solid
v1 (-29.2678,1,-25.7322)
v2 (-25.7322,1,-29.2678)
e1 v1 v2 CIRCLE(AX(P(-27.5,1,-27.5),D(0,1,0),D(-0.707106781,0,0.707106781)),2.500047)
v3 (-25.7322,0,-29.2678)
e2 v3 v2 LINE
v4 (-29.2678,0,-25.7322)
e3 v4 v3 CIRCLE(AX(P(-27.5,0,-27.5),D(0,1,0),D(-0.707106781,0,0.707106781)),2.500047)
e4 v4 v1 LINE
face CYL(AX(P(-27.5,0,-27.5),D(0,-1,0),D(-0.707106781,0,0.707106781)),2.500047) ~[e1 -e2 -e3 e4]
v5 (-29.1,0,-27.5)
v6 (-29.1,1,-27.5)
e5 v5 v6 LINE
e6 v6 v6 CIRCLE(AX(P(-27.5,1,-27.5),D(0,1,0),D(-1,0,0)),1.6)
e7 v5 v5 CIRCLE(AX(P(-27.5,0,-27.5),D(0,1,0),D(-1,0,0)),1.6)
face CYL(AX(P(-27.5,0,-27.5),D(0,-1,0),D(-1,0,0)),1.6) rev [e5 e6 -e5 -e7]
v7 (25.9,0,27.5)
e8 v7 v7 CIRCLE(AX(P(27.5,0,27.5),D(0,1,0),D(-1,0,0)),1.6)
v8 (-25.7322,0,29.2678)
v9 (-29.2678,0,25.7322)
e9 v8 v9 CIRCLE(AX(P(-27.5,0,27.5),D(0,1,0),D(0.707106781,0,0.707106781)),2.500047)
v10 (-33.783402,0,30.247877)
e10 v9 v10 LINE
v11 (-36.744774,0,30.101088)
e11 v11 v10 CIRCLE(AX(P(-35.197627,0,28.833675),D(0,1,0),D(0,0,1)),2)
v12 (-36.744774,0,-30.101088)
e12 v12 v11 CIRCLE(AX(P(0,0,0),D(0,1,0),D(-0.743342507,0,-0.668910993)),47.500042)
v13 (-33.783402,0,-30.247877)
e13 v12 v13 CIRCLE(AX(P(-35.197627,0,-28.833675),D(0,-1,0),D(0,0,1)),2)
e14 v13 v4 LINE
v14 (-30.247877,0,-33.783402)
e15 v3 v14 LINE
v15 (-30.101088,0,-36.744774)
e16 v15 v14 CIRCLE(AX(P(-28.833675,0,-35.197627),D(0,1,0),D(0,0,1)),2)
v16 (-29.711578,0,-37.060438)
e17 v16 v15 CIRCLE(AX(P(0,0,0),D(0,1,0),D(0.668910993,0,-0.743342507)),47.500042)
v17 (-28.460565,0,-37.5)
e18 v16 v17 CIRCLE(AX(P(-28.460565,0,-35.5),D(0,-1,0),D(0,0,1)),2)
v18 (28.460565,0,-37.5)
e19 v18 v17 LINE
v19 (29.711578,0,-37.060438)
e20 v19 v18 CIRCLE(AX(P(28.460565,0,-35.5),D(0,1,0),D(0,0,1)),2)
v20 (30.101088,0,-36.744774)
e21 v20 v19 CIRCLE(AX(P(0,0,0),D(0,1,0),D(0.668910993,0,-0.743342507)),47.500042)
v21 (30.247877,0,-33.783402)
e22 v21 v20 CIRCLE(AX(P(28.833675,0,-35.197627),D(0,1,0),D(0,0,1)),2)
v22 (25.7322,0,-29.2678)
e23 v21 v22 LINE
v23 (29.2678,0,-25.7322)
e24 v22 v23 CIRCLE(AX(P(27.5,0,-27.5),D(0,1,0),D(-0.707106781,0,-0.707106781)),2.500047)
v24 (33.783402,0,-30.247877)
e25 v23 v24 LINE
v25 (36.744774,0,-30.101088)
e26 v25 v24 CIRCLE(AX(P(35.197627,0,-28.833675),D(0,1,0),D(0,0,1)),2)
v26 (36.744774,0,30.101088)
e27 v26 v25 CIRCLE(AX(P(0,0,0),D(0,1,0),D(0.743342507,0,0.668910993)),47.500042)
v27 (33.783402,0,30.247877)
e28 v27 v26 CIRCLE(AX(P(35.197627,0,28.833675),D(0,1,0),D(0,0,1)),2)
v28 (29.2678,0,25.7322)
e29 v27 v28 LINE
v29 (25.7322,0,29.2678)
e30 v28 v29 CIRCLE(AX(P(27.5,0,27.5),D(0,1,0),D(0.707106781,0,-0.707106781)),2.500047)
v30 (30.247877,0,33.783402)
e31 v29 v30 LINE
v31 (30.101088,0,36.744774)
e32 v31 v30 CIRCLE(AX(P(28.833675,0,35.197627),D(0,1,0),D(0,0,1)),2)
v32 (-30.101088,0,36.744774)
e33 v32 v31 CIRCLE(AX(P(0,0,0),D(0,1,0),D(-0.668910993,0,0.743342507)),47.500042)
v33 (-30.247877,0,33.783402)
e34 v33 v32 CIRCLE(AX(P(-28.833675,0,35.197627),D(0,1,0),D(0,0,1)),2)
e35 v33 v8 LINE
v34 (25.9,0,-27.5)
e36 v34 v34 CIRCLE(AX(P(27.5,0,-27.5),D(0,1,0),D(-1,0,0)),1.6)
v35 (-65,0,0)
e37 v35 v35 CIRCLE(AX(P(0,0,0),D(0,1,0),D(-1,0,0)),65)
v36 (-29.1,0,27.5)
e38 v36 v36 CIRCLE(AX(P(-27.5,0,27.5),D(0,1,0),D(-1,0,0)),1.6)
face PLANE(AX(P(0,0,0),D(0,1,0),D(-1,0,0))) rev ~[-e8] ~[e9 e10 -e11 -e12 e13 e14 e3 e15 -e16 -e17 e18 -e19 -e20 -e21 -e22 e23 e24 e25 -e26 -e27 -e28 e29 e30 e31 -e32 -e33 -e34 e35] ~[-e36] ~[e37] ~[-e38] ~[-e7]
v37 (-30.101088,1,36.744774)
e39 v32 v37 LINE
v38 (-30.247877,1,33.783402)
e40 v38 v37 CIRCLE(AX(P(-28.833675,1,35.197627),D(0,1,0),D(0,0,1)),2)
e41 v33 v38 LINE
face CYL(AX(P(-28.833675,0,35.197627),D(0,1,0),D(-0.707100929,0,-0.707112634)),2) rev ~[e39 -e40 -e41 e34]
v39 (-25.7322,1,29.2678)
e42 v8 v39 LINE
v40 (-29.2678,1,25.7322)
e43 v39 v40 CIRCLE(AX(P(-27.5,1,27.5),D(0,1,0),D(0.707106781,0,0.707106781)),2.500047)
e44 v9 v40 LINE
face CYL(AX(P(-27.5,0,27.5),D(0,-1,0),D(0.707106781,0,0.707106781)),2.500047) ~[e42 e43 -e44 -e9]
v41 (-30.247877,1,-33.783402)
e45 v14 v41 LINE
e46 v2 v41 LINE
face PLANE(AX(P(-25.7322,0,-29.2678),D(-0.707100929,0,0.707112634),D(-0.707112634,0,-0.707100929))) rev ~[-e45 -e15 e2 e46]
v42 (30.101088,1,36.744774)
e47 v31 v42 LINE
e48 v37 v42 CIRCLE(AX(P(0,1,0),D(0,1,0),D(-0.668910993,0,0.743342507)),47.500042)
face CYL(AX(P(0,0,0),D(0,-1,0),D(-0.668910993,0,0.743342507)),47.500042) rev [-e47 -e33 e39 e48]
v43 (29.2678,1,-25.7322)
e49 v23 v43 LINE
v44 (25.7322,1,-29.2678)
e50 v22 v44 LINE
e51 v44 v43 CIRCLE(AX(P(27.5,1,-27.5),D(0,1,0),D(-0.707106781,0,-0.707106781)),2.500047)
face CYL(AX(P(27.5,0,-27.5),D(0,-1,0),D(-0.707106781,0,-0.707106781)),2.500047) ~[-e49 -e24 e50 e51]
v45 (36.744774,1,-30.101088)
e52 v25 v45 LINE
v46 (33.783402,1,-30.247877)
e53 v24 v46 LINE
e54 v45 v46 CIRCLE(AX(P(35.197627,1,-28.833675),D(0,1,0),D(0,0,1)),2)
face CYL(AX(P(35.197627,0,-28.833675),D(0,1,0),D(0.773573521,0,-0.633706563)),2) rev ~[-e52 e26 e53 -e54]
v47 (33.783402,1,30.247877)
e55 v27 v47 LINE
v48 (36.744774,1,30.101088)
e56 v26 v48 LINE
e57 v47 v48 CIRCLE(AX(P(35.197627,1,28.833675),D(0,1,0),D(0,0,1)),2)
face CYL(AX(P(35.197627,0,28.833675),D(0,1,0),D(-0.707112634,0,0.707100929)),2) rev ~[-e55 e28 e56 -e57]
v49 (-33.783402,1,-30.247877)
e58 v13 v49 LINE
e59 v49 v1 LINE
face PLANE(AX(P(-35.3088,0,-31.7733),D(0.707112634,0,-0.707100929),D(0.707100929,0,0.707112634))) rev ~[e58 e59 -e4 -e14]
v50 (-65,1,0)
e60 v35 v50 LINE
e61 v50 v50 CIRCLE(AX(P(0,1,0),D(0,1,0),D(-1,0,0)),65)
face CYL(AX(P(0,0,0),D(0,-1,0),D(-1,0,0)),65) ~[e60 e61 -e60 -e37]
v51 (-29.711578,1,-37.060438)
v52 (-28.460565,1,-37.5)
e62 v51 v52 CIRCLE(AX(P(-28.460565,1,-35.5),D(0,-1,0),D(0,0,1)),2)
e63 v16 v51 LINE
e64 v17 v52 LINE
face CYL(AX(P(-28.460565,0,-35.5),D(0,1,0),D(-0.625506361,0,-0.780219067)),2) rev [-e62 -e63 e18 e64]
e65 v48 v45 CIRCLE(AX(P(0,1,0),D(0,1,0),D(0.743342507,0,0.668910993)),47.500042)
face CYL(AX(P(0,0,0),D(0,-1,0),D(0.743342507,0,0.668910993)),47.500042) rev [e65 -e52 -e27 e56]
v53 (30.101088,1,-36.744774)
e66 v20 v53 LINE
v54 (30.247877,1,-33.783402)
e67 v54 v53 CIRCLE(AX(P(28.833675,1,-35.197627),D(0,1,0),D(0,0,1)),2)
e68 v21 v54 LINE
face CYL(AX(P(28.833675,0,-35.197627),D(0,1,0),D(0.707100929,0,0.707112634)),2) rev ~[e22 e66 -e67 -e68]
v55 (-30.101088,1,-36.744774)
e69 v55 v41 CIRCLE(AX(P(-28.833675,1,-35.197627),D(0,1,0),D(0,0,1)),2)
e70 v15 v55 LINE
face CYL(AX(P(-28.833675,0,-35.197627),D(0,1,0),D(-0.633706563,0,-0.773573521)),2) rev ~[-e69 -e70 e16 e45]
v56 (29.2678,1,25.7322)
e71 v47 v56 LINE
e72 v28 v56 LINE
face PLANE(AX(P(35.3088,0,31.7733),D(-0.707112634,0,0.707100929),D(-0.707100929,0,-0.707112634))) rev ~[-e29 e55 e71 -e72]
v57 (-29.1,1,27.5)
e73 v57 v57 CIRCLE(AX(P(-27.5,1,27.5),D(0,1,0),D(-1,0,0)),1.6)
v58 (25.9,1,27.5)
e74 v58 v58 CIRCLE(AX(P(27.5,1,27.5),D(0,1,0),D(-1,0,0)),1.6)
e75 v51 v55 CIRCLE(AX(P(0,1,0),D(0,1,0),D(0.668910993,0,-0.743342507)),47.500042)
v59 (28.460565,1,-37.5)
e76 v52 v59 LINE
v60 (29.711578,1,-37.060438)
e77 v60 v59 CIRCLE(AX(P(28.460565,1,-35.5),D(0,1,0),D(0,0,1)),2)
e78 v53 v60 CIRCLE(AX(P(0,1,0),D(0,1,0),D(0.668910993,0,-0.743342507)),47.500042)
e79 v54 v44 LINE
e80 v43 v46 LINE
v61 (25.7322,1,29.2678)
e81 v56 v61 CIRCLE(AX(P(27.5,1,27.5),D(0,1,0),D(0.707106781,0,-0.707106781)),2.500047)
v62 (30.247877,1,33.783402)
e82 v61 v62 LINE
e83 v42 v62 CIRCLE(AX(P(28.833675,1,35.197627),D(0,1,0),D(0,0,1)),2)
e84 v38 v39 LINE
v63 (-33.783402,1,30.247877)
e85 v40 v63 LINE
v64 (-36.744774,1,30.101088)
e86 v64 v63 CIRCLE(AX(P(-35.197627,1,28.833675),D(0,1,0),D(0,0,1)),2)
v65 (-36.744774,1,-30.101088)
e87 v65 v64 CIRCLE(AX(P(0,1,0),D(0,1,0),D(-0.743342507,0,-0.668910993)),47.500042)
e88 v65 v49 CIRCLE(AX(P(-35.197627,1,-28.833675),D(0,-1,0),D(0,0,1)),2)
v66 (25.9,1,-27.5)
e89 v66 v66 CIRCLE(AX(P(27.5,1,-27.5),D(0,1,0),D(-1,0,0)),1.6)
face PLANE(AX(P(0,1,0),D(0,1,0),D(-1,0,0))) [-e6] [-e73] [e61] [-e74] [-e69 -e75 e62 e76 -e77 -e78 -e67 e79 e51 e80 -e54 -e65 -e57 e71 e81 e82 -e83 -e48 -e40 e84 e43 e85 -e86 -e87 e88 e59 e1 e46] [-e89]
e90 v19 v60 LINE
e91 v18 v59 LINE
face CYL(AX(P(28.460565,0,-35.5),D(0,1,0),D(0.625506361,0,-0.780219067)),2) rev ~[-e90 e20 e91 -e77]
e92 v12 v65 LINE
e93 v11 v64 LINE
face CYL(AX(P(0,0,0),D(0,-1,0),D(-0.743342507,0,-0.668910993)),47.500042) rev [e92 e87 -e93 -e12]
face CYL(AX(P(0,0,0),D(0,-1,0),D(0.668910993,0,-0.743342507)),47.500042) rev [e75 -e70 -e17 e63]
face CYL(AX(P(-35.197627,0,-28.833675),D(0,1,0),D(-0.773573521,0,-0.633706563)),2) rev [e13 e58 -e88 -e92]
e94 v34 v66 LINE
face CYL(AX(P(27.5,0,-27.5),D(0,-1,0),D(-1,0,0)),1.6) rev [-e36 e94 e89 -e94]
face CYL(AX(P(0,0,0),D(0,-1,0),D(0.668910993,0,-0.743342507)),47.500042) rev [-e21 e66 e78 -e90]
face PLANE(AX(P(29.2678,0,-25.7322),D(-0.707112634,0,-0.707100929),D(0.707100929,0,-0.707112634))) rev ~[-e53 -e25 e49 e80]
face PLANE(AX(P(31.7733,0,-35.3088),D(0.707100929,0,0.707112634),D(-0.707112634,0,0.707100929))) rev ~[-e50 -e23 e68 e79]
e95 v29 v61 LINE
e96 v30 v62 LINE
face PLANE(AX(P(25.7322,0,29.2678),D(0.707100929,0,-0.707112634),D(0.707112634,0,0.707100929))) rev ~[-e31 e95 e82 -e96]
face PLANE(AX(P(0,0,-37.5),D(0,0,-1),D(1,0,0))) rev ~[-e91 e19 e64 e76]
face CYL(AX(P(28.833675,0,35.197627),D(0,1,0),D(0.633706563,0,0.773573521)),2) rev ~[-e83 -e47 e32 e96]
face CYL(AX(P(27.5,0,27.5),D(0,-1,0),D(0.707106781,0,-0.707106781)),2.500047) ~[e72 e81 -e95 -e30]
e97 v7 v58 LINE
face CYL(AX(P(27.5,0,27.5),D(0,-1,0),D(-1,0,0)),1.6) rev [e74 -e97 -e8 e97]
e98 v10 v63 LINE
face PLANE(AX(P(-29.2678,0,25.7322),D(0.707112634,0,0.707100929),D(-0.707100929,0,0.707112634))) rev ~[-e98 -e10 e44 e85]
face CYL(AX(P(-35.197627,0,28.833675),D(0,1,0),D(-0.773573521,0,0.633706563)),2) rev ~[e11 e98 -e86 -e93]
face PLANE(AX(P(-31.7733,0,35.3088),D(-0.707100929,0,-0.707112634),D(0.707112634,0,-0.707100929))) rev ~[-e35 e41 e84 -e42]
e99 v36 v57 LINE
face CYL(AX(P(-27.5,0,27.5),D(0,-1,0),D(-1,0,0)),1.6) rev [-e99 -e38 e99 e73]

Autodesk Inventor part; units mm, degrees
ref_plane "YZ Plane" through (0, 0, 0) normal (1, 0, 0) x (0, 1, 0)
ref_plane "XZ Plane" through (0, 0, 0) normal (0, 1, 0) x (-1, 0, 0)
ref_plane "XY Plane" through (0, 0, 0) normal (0, 0, 1) x (1, 0, 0)
sketch "Sketch3" plane through (0, 0, 0) normal (0, 1, 0) x (-1, 0, 0)
  line L0 (27.5, -27.5) -> (-27.5, -27.5) construction
  line L1 (-27.5, -27.5) -> (-27.5, 27.5) construction
  line L2 (-27.5, 27.5) -> (27.5, 27.5) construction
  line L3 (27.5, 27.5) -> (27.5, -27.5) construction
  line L4 (27.5, -27.5) -> (-27.5, 27.5) construction
  line L5 (-27.5, -27.5) -> (27.5, 27.5) construction
  circle A0 centre (27.5, -27.5) radius 1.6
  circle A1 centre (-27.5, -27.5) radius 1.6
  circle A2 centre (-27.5, 27.5) radius 1.6
  circle A3 centre (27.5, 27.5) radius 1.6
  circle A4 centre (0, 0) radius 65
  line L6 (-27.5, -27.5) -> (-33.5876, -33.5876) construction
  line L7 (-27.5, 27.5) -> (-33.5876, 33.5876) construction
  line L8 (27.5, 27.5) -> (33.5876, 33.5876) construction
  line L9 (27.5, -27.5) -> (33.5876, -33.5876) construction
  line L10 (39.6751, -39.6751) -> (27.5, -27.5) construction
  line L11 (35.3088, -31.7733) -> (29.2678, -25.7322)
  line L12 (25.7322, -29.2678) -> (31.7733, -35.3088)
  arc A5 (29.2678, -25.7322) -> (25.7322, -29.2678) centre (27.5, -27.5) ccw
  line L13 (-39.6751, -39.6751) -> (-27.5, -27.5) construction
  line L14 (-31.7733, -35.3088) -> (-25.7322, -29.2678)
  line L15 (-29.2678, -25.7322) -> (-35.3088, -31.7733)
  arc A6 (-25.7322, -29.2678) -> (-29.2678, -25.7322) centre (-27.5, -27.5) ccw
  line L16 (-39.6751, 39.6751) -> (-27.5, 27.5) construction
  line L17 (-35.3088, 31.7733) -> (-29.2678, 25.7322)
  line L18 (-25.7322, 29.2678) -> (-31.7733, 35.3088)
  arc A7 (-29.2678, 25.7322) -> (-25.7322, 29.2678) centre (-27.5, 27.5) ccw
  line L19 (33.5876, 33.5876) -> (27.5, 27.5) construction
  line L20 (31.7733, 35.3088) -> (25.7322, 29.2678)
  line L21 (29.2678, 25.7322) -> (35.3088, 31.7733)
  arc A8 (25.7322, 29.2678) -> (29.2678, 25.7322) centre (27.5, 27.5) ccw
  arc A9 (31.7733, 35.3088) -> (-31.7733, 35.3088) centre (0, 0) ccw
  arc A10 (-35.3088, 31.7733) -> (-35.3088, -31.7733) centre (0, 0) ccw
  arc A11 (-31.7733, -35.3088) -> (31.7733, -35.3088) centre (0, 0) ccw
  arc A12 (35.3088, -31.7733) -> (35.3088, 31.7733) centre (0, 0) ccw
  line L22 (0, -47.5) -> (0, -37.5) construction
  line L23 (0, -37.5) -> (-29.1548, -37.5)
  line L24 (0, -37.5) -> (29.1548, -37.5)
  dimension "d60" = 55
  dimension "d61" = 55
  dimension "d62" = 3.2
  dimension "d63" = 3.2
  dimension "d64" = 3.2
  dimension "d65" = 3.2
  dimension "d67" = 130
  dimension "d68" = 5
  dimension "d69" = 5
  dimension "d70" = 5
  dimension "d71" = 5
  dimension "d91" = 10
extrude "Extrusion2" add sketch "Sketch3" along normal blind 1 contours A4 | A11 L23 L24
fillet "Fillet1" radius 2 10 edges at (-31.7733, 0.5, 35.3088) (-35.3088, 0.5, 31.7733) (-31.7733, 0.5, -35.3088) (-35.3088, 0.5, -31.7733) (35.3088, 0.5, -31.7733) (31.7733, 0.5, -35.3088) (31.7733, 0.5, 35.3088) (35.3088, 0.5, 31.7733) (-29.1548, 0.5, -37.5) (29.1548, 0.5, -37.5)
sketch "Sketch4" plane through (0, 1, 0) normal (0, 1, 0) x (1, 0, 0)
  circle A0 centre (0, 0) radius 65 projected
  line L0 (0, -65) -> (0, -63) construction
  line L1 (-3, -57) -> (-3, -63)
  line L2 (-3, -63) -> (3, -63)
  line L3 (3, -63) -> (3, -57)
  line L4 (3, -57) -> (-3, -57)
  line L5 (0.8, -52.3) -> (0.8, -55.5)
  line L6 (0.8, -55.5) -> (-0.8, -55.5)
  line L7 (-0.8, -55.5) -> (-0.8, -52.3)
  line L8 (-0.8, -52.3) -> (0.8, -52.3)
  line L9 (1.8, -52.3) -> (1.8, -55.5)
  line L10 (1.8, -55.5) -> (3.4, -55.5)
  line L11 (3.4, -55.5) -> (3.4, -52.3)
  line L12 (3.4, -52.3) -> (1.8, -52.3)
  line L13 (-3.4, -52.3) -> (-3.4, -55.5)
  line L14 (-3.4, -55.5) -> (-1.8, -55.5)
  line L15 (-1.8, -55.5) -> (-1.8, -52.3)
  line L16 (-1.8, -52.3) -> (-3.4, -52.3)
  line L17 (-4.4, -52.3) -> (-4.4, -55.5)
  line L18 (-4.4, -55.5) -> (-6, -55.5)
  line L19 (-6, -55.5) -> (-6, -52.3)
  line L20 (-6, -52.3) -> (-4.4, -52.3)
  line L21 (-4.4, -61.6) -> (-4.4, -58.4)
  line L22 (-4.4, -58.4) -> (-6, -58.4)
  line L23 (-6, -58.4) -> (-6, -61.6)
  line L24 (-6, -61.6) -> (-4.4, -61.6)
  line L25 (18.0977, -52.5764) -> (19.5759, -51.9641)
  line L26 (19.5759, -51.9641) -> (18.3514, -49.0077)
  line L27 (18.3514, -49.0077) -> (16.8732, -49.62)
  line L28 (16.8732, -49.62) -> (18.0977, -52.5764)
  line L29 (15.9493, -50.0027) -> (17.1739, -52.9591)
  line L30 (15.6957, -53.5714) -> (14.4711, -50.615)
  line L31 (14.4711, -50.615) -> (15.9493, -50.0027)
  line L32 (17.1739, -52.9591) -> (15.6957, -53.5714)
  line L33 (18.2836, -55.6384) -> (16.8054, -56.2507)
  line L34 (16.8054, -56.2507) -> (18.03, -59.2071)
  line L35 (18.03, -59.2071) -> (19.5082, -58.5948)
  line L36 (19.5082, -58.5948) -> (18.2836, -55.6384)
  line L37 (19.0413, -53.8092) -> (21.3374, -59.3525)
  line L38 (21.3374, -59.3525) -> (26.8807, -57.0564)
  line L39 (24.8744, -60.0522) -> (24.1091, -58.2044) construction
  line L40 (26.8807, -57.0564) -> (24.5846, -51.5131)
  line L41 (24.5846, -51.5131) -> (19.0413, -53.8092)
  line L42 (20.7534, -48.0128) -> (21.978, -50.9692)
  line L43 (21.978, -50.9692) -> (20.4998, -51.5815)
  line L44 (20.4998, -51.5815) -> (19.2752, -48.625)
  line L45 (19.2752, -48.625) -> (20.7534, -48.0128)
  line L46 (21.6773, -47.6301) -> (22.9019, -50.5865)
  line L47 (22.9019, -50.5865) -> (24.3801, -49.9742)
  line L48 (24.3801, -49.9742) -> (23.1555, -47.0178)
  line L49 (23.1555, -47.0178) -> (21.6773, -47.6301)
  line L50 (36.8403, -41.6486) -> (37.9716, -40.5172)
  line L51 (37.9716, -40.5172) -> (35.7089, -38.2545)
  line L52 (35.7089, -38.2545) -> (34.5775, -39.3858)
  line L53 (34.5775, -39.3858) -> (36.8403, -41.6486)
  line L54 (33.8704, -40.093) -> (36.1332, -42.3557)
  line L55 (35.0018, -43.4871) -> (32.739, -41.2243)
  line L56 (32.739, -41.2243) -> (33.8704, -40.093)
  line L57 (36.1332, -42.3557) -> (35.0018, -43.4871)
  line L58 (38.1838, -44.4063) -> (37.0524, -45.5377)
  line L59 (37.0524, -45.5377) -> (39.3151, -47.8004)
  line L60 (39.3151, -47.8004) -> (40.4465, -46.669)
  line L61 (40.4465, -46.669) -> (38.1838, -44.4063)
  line L62 (38.1838, -42.4264) -> (42.4264, -46.669)
  line L63 (42.4264, -46.669) -> (46.669, -42.4264)
  line L64 (45.9619, -45.9619) -> (44.5477, -44.5477) construction
  line L65 (46.669, -42.4264) -> (42.4264, -38.1838)
  line L66 (42.4264, -38.1838) -> (38.1838, -42.4264)
  line L67 (37.5474, -36.416) -> (39.8101, -38.6787)
  line L68 (39.8101, -38.6787) -> (38.6787, -39.8101)
  line L69 (38.6787, -39.8101) -> (36.416, -37.5474)
  line L70 (36.416, -37.5474) -> (37.5474, -36.416)
  line L71 (38.2545, -35.7089) -> (40.5172, -37.9716)
  line L72 (40.5172, -37.9716) -> (41.6486, -36.8403)
  line L73 (41.6486, -36.8403) -> (39.3858, -34.5775)
  line L74 (39.3858, -34.5775) -> (38.2545, -35.7089)
  line L75 (49.9742, -24.3801) -> (50.5865, -22.9019)
  line L76 (50.5865, -22.9019) -> (47.6301, -21.6773)
  line L77 (47.6301, -21.6773) -> (47.0178, -23.1555)
  line L78 (47.0178, -23.1555) -> (49.9742, -24.3801)
  line L79 (46.6351, -24.0794) -> (49.5915, -25.304)
  line L80 (48.9792, -26.7822) -> (46.0228, -25.5576)
  line L81 (46.0228, -25.5576) -> (46.6351, -24.0794)
  line L82 (49.5915, -25.304) -> (48.9792, -26.7822)
  line L83 (52.2708, -26.4138) -> (51.6585, -27.892)
  line L84 (51.6585, -27.892) -> (54.6149, -29.1166)
  line L85 (54.6149, -29.1166) -> (55.2272, -27.6384)
  line L86 (55.2272, -27.6384) -> (52.2708, -26.4138)
  line L87 (51.5131, -24.5846) -> (57.0564, -26.8807)
  line L88 (57.0564, -26.8807) -> (59.3525, -21.3374)
  line L89 (60.0522, -24.8744) -> (58.2044, -24.1091) construction
  line L90 (59.3525, -21.3374) -> (53.8092, -19.0413)
  line L91 (53.8092, -19.0413) -> (51.5131, -24.5846)
  line L92 (48.625, -19.2752) -> (51.5815, -20.4998)
  line L93 (51.5815, -20.4998) -> (50.9692, -21.978)
  line L94 (50.9692, -21.978) -> (48.0128, -20.7534)
  line L95 (48.0128, -20.7534) -> (48.625, -19.2752)
  line L96 (49.0077, -18.3514) -> (51.9641, -19.5759)
  line L97 (51.9641, -19.5759) -> (52.5764, -18.0977)
  line L98 (52.5764, -18.0977) -> (49.62, -16.8732)
  line L99 (49.62, -16.8732) -> (49.0077, -18.3514)
  line L100 (55.5, -3.4) -> (55.5, -1.8)
  line L101 (55.5, -1.8) -> (52.3, -1.8)
  line L102 (52.3, -1.8) -> (52.3, -3.4)
  line L103 (52.3, -3.4) -> (55.5, -3.4)
  line L104 (52.3, -4.4) -> (55.5, -4.4)
  line L105 (55.5, -6) -> (52.3, -6)
  line L106 (52.3, -6) -> (52.3, -4.4)
  line L107 (55.5, -4.4) -> (55.5, -6)
  line L108 (58.4, -4.4) -> (58.4, -6)
  line L109 (58.4, -6) -> (61.6, -6)
  line L110 (61.6, -6) -> (61.6, -4.4)
  line L111 (61.6, -4.4) -> (58.4, -4.4)
  line L112 (57, -3) -> (63, -3)
  line L113 (63, -3) -> (63, 3)
  line L114 (65, 0) -> (63, 0) construction
  line L115 (63, 3) -> (57, 3)
  line L116 (57, 3) -> (57, -3)
  line L117 (52.3, 0.8) -> (55.5, 0.8)
  line L118 (55.5, 0.8) -> (55.5, -0.8)
  line L119 (55.5, -0.8) -> (52.3, -0.8)
  line L120 (52.3, -0.8) -> (52.3, 0.8)
  line L121 (52.3, 1.8) -> (55.5, 1.8)
  line L122 (55.5, 1.8) -> (55.5, 3.4)
  line L123 (55.5, 3.4) -> (52.3, 3.4)
  line L124 (52.3, 3.4) -> (52.3, 1.8)
  line L125 (52.5764, 18.0977) -> (51.9641, 19.5759)
  line L126 (51.9641, 19.5759) -> (49.0077, 18.3514)
  line L127 (49.0077, 18.3514) -> (49.62, 16.8732)
  line L128 (49.62, 16.8732) -> (52.5764, 18.0977)
  line L129 (50.0027, 15.9493) -> (52.9591, 17.1739)
  line L130 (53.5714, 15.6957) -> (50.615, 14.4711)
  line L131 (50.615, 14.4711) -> (50.0027, 15.9493)
  line L132 (52.9591, 17.1739) -> (53.5714, 15.6957)
  line L133 (55.6384, 18.2836) -> (56.2507, 16.8054)
  line L134 (56.2507, 16.8054) -> (59.2071, 18.03)
  line L135 (59.2071, 18.03) -> (58.5948, 19.5082)
  line L136 (58.5948, 19.5082) -> (55.6384, 18.2836)
  line L137 (53.8092, 19.0413) -> (59.3525, 21.3374)
  line L138 (59.3525, 21.3374) -> (57.0564, 26.8807)
  line L139 (60.0522, 24.8744) -> (58.2044, 24.1091) construction
  line L140 (57.0564, 26.8807) -> (51.5131, 24.5846)
  line L141 (51.5131, 24.5846) -> (53.8092, 19.0413)
  line L142 (48.0128, 20.7534) -> (50.9692, 21.978)
  line L143 (50.9692, 21.978) -> (51.5815, 20.4998)
  line L144 (51.5815, 20.4998) -> (48.625, 19.2752)
  line L145 (48.625, 19.2752) -> (48.0128, 20.7534)
  line L146 (47.6301, 21.6773) -> (50.5865, 22.9019)
  line L147 (50.5865, 22.9019) -> (49.9742, 24.3801)
  line L148 (49.9742, 24.3801) -> (47.0178, 23.1555)
  line L149 (47.0178, 23.1555) -> (47.6301, 21.6773)
  line L150 (41.6486, 36.8403) -> (40.5172, 37.9716)
  line L151 (40.5172, 37.9716) -> (38.2545, 35.7089)
  line L152 (38.2545, 35.7089) -> (39.3858, 34.5775)
  line L153 (39.3858, 34.5775) -> (41.6486, 36.8403)
  line L154 (40.093, 33.8704) -> (42.3557, 36.1332)
  line L155 (43.4871, 35.0018) -> (41.2243, 32.739)
  line L156 (41.2243, 32.739) -> (40.093, 33.8704)
  line L157 (42.3557, 36.1332) -> (43.4871, 35.0018)
  line L158 (44.4063, 38.1838) -> (45.5377, 37.0524)
  line L159 (45.5377, 37.0524) -> (47.8004, 39.3151)
  line L160 (47.8004, 39.3151) -> (46.669, 40.4465)
  line L161 (46.669, 40.4465) -> (44.4063, 38.1838)
  line L162 (42.4264, 38.1838) -> (46.669, 42.4264)
  line L163 (46.669, 42.4264) -> (42.4264, 46.669)
  line L164 (45.9619, 45.9619) -> (44.5477, 44.5477) construction
  line L165 (42.4264, 46.669) -> (38.1838, 42.4264)
  line L166 (38.1838, 42.4264) -> (42.4264, 38.1838)
  line L167 (36.416, 37.5474) -> (38.6787, 39.8101)
  line L168 (38.6787, 39.8101) -> (39.8101, 38.6787)
  line L169 (39.8101, 38.6787) -> (37.5474, 36.416)
  line L170 (37.5474, 36.416) -> (36.416, 37.5474)
  line L171 (35.7089, 38.2545) -> (37.9716, 40.5172)
  line L172 (37.9716, 40.5172) -> (36.8403, 41.6486)
  line L173 (36.8403, 41.6486) -> (34.5775, 39.3858)
  line L174 (34.5775, 39.3858) -> (35.7089, 38.2545)
  line L175 (24.3801, 49.9742) -> (22.9019, 50.5865)
  line L176 (22.9019, 50.5865) -> (21.6773, 47.6301)
  line L177 (21.6773, 47.6301) -> (23.1555, 47.0178)
  line L178 (23.1555, 47.0178) -> (24.3801, 49.9742)
  line L179 (24.0794, 46.6351) -> (25.304, 49.5915)
  line L180 (26.7822, 48.9792) -> (25.5576, 46.0228)
  line L181 (25.5576, 46.0228) -> (24.0794, 46.6351)
  line L182 (25.304, 49.5915) -> (26.7822, 48.9792)
  line L183 (26.4138, 52.2708) -> (27.892, 51.6585)
  line L184 (27.892, 51.6585) -> (29.1166, 54.6149)
  line L185 (29.1166, 54.6149) -> (27.6384, 55.2272)
  line L186 (27.6384, 55.2272) -> (26.4138, 52.2708)
  line L187 (24.5846, 51.5131) -> (26.8807, 57.0564)
  line L188 (26.8807, 57.0564) -> (21.3374, 59.3525)
  line L189 (24.8744, 60.0522) -> (24.1091, 58.2044) construction
  line L190 (21.3374, 59.3525) -> (19.0413, 53.8092)
  line L191 (19.0413, 53.8092) -> (24.5846, 51.5131)
  line L192 (19.2752, 48.625) -> (20.4998, 51.5815)
  line L193 (20.4998, 51.5815) -> (21.978, 50.9692)
  line L194 (21.978, 50.9692) -> (20.7534, 48.0128)
  line L195 (20.7534, 48.0128) -> (19.2752, 48.625)
  line L196 (18.3514, 49.0077) -> (19.5759, 51.9641)
  line L197 (19.5759, 51.9641) -> (18.0977, 52.5764)
  line L198 (18.0977, 52.5764) -> (16.8732, 49.62)
  line L199 (16.8732, 49.62) -> (18.3514, 49.0077)
  line L200 (3.4, 55.5) -> (1.8, 55.5)
  line L201 (1.8, 55.5) -> (1.8, 52.3)
  line L202 (1.8, 52.3) -> (3.4, 52.3)
  line L203 (3.4, 52.3) -> (3.4, 55.5)
  line L204 (4.4, 52.3) -> (4.4, 55.5)
  line L205 (6, 55.5) -> (6, 52.3)
  line L206 (6, 52.3) -> (4.4, 52.3)
  line L207 (4.4, 55.5) -> (6, 55.5)
  line L208 (4.4, 58.4) -> (6, 58.4)
  line L209 (6, 58.4) -> (6, 61.6)
  line L210 (6, 61.6) -> (4.4, 61.6)
  line L211 (4.4, 61.6) -> (4.4, 58.4)
  line L212 (3, 57) -> (3, 63)
  line L213 (3, 63) -> (-3, 63)
  line L214 (0, 65) -> (0, 63) construction
  line L215 (-3, 63) -> (-3, 57)
  line L216 (-3, 57) -> (3, 57)
  line L217 (-0.8, 52.3) -> (-0.8, 55.5)
  line L218 (-0.8, 55.5) -> (0.8, 55.5)
  line L219 (0.8, 55.5) -> (0.8, 52.3)
  line L220 (0.8, 52.3) -> (-0.8, 52.3)
  line L221 (-1.8, 52.3) -> (-1.8, 55.5)
  line L222 (-1.8, 55.5) -> (-3.4, 55.5)
  line L223 (-3.4, 55.5) -> (-3.4, 52.3)
  line L224 (-3.4, 52.3) -> (-1.8, 52.3)
  line L225 (-18.0977, 52.5764) -> (-19.5759, 51.9641)
  line L226 (-19.5759, 51.9641) -> (-18.3514, 49.0077)
  line L227 (-18.3514, 49.0077) -> (-16.8732, 49.62)
  line L228 (-16.8732, 49.62) -> (-18.0977, 52.5764)
  line L229 (-15.9493, 50.0027) -> (-17.1739, 52.9591)
  line L230 (-15.6957, 53.5714) -> (-14.4711, 50.615)
  line L231 (-14.4711, 50.615) -> (-15.9493, 50.0027)
  line L232 (-17.1739, 52.9591) -> (-15.6957, 53.5714)
  line L233 (-18.2836, 55.6384) -> (-16.8054, 56.2507)
  line L234 (-16.8054, 56.2507) -> (-18.03, 59.2071)
  line L235 (-18.03, 59.2071) -> (-19.5082, 58.5948)
  line L236 (-19.5082, 58.5948) -> (-18.2836, 55.6384)
  line L237 (-19.0413, 53.8092) -> (-21.3374, 59.3525)
  line L238 (-21.3374, 59.3525) -> (-26.8807, 57.0564)
  line L239 (-24.8744, 60.0522) -> (-24.1091, 58.2044) construction
  line L240 (-26.8807, 57.0564) -> (-24.5846, 51.5131)
  line L241 (-24.5846, 51.5131) -> (-19.0413, 53.8092)
  line L242 (-20.7534, 48.0128) -> (-21.978, 50.9692)
  line L243 (-21.978, 50.9692) -> (-20.4998, 51.5815)
  line L244 (-20.4998, 51.5815) -> (-19.2752, 48.625)
  line L245 (-19.2752, 48.625) -> (-20.7534, 48.0128)
  line L246 (-21.6773, 47.6301) -> (-22.9019, 50.5865)
  line L247 (-22.9019, 50.5865) -> (-24.3801, 49.9742)
  line L248 (-24.3801, 49.9742) -> (-23.1555, 47.0178)
  line L249 (-23.1555, 47.0178) -> (-21.6773, 47.6301)
  line L250 (-36.8403, 41.6486) -> (-37.9716, 40.5172)
  line L251 (-37.9716, 40.5172) -> (-35.7089, 38.2545)
  line L252 (-35.7089, 38.2545) -> (-34.5775, 39.3858)
  line L253 (-34.5775, 39.3858) -> (-36.8403, 41.6486)
  line L254 (-33.8704, 40.093) -> (-36.1332, 42.3557)
  line L255 (-35.0018, 43.4871) -> (-32.739, 41.2243)
  line L256 (-32.739, 41.2243) -> (-33.8704, 40.093)
  line L257 (-36.1332, 42.3557) -> (-35.0018, 43.4871)
  line L258 (-38.1838, 44.4063) -> (-37.0524, 45.5377)
  line L259 (-37.0524, 45.5377) -> (-39.3151, 47.8004)
  line L260 (-39.3151, 47.8004) -> (-40.4465, 46.669)
  line L261 (-40.4465, 46.669) -> (-38.1838, 44.4063)
  line L262 (-38.1838, 42.4264) -> (-42.4264, 46.669)
  line L263 (-42.4264, 46.669) -> (-46.669, 42.4264)
  line L264 (-45.9619, 45.9619) -> (-44.5477, 44.5477) construction
  line L265 (-46.669, 42.4264) -> (-42.4264, 38.1838)
  line L266 (-42.4264, 38.1838) -> (-38.1838, 42.4264)
  line L267 (-37.5474, 36.416) -> (-39.8101, 38.6787)
  line L268 (-39.8101, 38.6787) -> (-38.6787, 39.8101)
  line L269 (-38.6787, 39.8101) -> (-36.416, 37.5474)
  line L270 (-36.416, 37.5474) -> (-37.5474, 36.416)
  line L271 (-38.2545, 35.7089) -> (-40.5172, 37.9716)
  line L272 (-40.5172, 37.9716) -> (-41.6486, 36.8403)
  line L273 (-41.6486, 36.8403) -> (-39.3858, 34.5775)
  line L274 (-39.3858, 34.5775) -> (-38.2545, 35.7089)
  line L275 (-49.9742, 24.3801) -> (-50.5865, 22.9019)
  line L276 (-50.5865, 22.9019) -> (-47.6301, 21.6773)
  line L277 (-47.6301, 21.6773) -> (-47.0178, 23.1555)
  line L278 (-47.0178, 23.1555) -> (-49.9742, 24.3801)
  line L279 (-46.6351, 24.0794) -> (-49.5915, 25.304)
  line L280 (-48.9792, 26.7822) -> (-46.0228, 25.5576)
  line L281 (-46.0228, 25.5576) -> (-46.6351, 24.0794)
  line L282 (-49.5915, 25.304) -> (-48.9792, 26.7822)
  line L283 (-52.2708, 26.4138) -> (-51.6585, 27.892)
  line L284 (-51.6585, 27.892) -> (-54.6149, 29.1166)
  line L285 (-54.6149, 29.1166) -> (-55.2272, 27.6384)
  line L286 (-55.2272, 27.6384) -> (-52.2708, 26.4138)
  line L287 (-51.5131, 24.5846) -> (-57.0564, 26.8807)
  line L288 (-57.0564, 26.8807) -> (-59.3525, 21.3374)
  line L289 (-60.0522, 24.8744) -> (-58.2044, 24.1091) construction
  line L290 (-59.3525, 21.3374) -> (-53.8092, 19.0413)
  line L291 (-53.8092, 19.0413) -> (-51.5131, 24.5846)
  line L292 (-48.625, 19.2752) -> (-51.5815, 20.4998)
  line L293 (-51.5815, 20.4998) -> (-50.9692, 21.978)
  line L294 (-50.9692, 21.978) -> (-48.0128, 20.7534)
  line L295 (-48.0128, 20.7534) -> (-48.625, 19.2752)
  line L296 (-49.0077, 18.3514) -> (-51.9641, 19.5759)
  line L297 (-51.9641, 19.5759) -> (-52.5764, 18.0977)
  line L298 (-52.5764, 18.0977) -> (-49.62, 16.8732)
  line L299 (-49.62, 16.8732) -> (-49.0077, 18.3514)
  line L300 (-55.5, 3.4) -> (-55.5, 1.8)
  line L301 (-55.5, 1.8) -> (-52.3, 1.8)
  line L302 (-52.3, 1.8) -> (-52.3, 3.4)
  line L303 (-52.3, 3.4) -> (-55.5, 3.4)
  line L304 (-52.3, 4.4) -> (-55.5, 4.4)
  line L305 (-55.5, 6) -> (-52.3, 6)
  line L306 (-52.3, 6) -> (-52.3, 4.4)
  line L307 (-55.5, 4.4) -> (-55.5, 6)
  line L308 (-58.4, 4.4) -> (-58.4, 6)
  line L309 (-58.4, 6) -> (-61.6, 6)
  line L310 (-61.6, 6) -> (-61.6, 4.4)
  line L311 (-61.6, 4.4) -> (-58.4, 4.4)
  line L312 (-57, 3) -> (-63, 3)
  line L313 (-63, 3) -> (-63, -3)
  line L314 (-65, 0) -> (-63, 0) construction
  line L315 (-63, -3) -> (-57, -3)
  line L316 (-57, -3) -> (-57, 3)
  line L317 (-52.3, -0.8) -> (-55.5, -0.8)
  line L318 (-55.5, -0.8) -> (-55.5, 0.8)
  line L319 (-55.5, 0.8) -> (-52.3, 0.8)
  line L320 (-52.3, 0.8) -> (-52.3, -0.8)
  line L321 (-52.3, -1.8) -> (-55.5, -1.8)
  line L322 (-55.5, -1.8) -> (-55.5, -3.4)
  line L323 (-55.5, -3.4) -> (-52.3, -3.4)
  line L324 (-52.3, -3.4) -> (-52.3, -1.8)
  line L325 (-52.5764, -18.0977) -> (-51.9641, -19.5759)
  line L326 (-51.9641, -19.5759) -> (-49.0077, -18.3514)
  line L327 (-49.0077, -18.3514) -> (-49.62, -16.8732)
  line L328 (-49.62, -16.8732) -> (-52.5764, -18.0977)
  line L329 (-50.0027, -15.9493) -> (-52.9591, -17.1739)
  line L330 (-53.5714, -15.6957) -> (-50.615, -14.4711)
  line L331 (-50.615, -14.4711) -> (-50.0027, -15.9493)
  line L332 (-52.9591, -17.1739) -> (-53.5714, -15.6957)
  line L333 (-55.6384, -18.2836) -> (-56.2507, -16.8054)
  line L334 (-56.2507, -16.8054) -> (-59.2071, -18.03)
  line L335 (-59.2071, -18.03) -> (-58.5948, -19.5082)
  line L336 (-58.5948, -19.5082) -> (-55.6384, -18.2836)
  line L337 (-53.8092, -19.0413) -> (-59.3525, -21.3374)
  line L338 (-59.3525, -21.3374) -> (-57.0564, -26.8807)
  line L339 (-60.0522, -24.8744) -> (-58.2044, -24.1091) construction
  line L340 (-57.0564, -26.8807) -> (-51.5131, -24.5846)
  line L341 (-51.5131, -24.5846) -> (-53.8092, -19.0413)
  line L342 (-48.0128, -20.7534) -> (-50.9692, -21.978)
  line L343 (-50.9692, -21.978) -> (-51.5815, -20.4998)
  line L344 (-51.5815, -20.4998) -> (-48.625, -19.2752)
  line L345 (-48.625, -19.2752) -> (-48.0128, -20.7534)
  line L346 (-47.6301, -21.6773) -> (-50.5865, -22.9019)
  line L347 (-50.5865, -22.9019) -> (-49.9742, -24.3801)
  line L348 (-49.9742, -24.3801) -> (-47.0178, -23.1555)
  line L349 (-47.0178, -23.1555) -> (-47.6301, -21.6773)
  line L350 (-41.6486, -36.8403) -> (-40.5172, -37.9716)
  line L351 (-40.5172, -37.9716) -> (-38.2545, -35.7089)
  line L352 (-38.2545, -35.7089) -> (-39.3858, -34.5775)
  line L353 (-39.3858, -34.5775) -> (-41.6486, -36.8403)
  line L354 (-40.093, -33.8704) -> (-42.3557, -36.1332)
  line L355 (-43.4871, -35.0018) -> (-41.2243, -32.739)
  line L356 (-41.2243, -32.739) -> (-40.093, -33.8704)
  line L357 (-42.3557, -36.1332) -> (-43.4871, -35.0018)
  line L358 (-44.4063, -38.1838) -> (-45.5377, -37.0524)
  line L359 (-45.5377, -37.0524) -> (-47.8004, -39.3151)
  line L360 (-47.8004, -39.3151) -> (-46.669, -40.4465)
  line L361 (-46.669, -40.4465) -> (-44.4063, -38.1838)
  line L362 (-42.4264, -38.1838) -> (-46.669, -42.4264)
  line L363 (-46.669, -42.4264) -> (-42.4264, -46.669)
  line L364 (-45.9619, -45.9619) -> (-44.5477, -44.5477) construction
  line L365 (-42.4264, -46.669) -> (-38.1838, -42.4264)
  line L366 (-38.1838, -42.4264) -> (-42.4264, -38.1838)
  line L367 (-36.416, -37.5474) -> (-38.6787, -39.8101)
  line L368 (-38.6787, -39.8101) -> (-39.8101, -38.6787)
  line L369 (-39.8101, -38.6787) -> (-37.5474, -36.416)
  line L370 (-37.5474, -36.416) -> (-36.416, -37.5474)
  line L371 (-35.7089, -38.2545) -> (-37.9716, -40.5172)
  line L372 (-37.9716, -40.5172) -> (-36.8403, -41.6486)
  line L373 (-36.8403, -41.6486) -> (-34.5775, -39.3858)
  line L374 (-34.5775, -39.3858) -> (-35.7089, -38.2545)
  line L375 (-24.3801, -49.9742) -> (-22.9019, -50.5865)
  line L376 (-22.9019, -50.5865) -> (-21.6773, -47.6301)
  line L377 (-21.6773, -47.6301) -> (-23.1555, -47.0178)
  line L378 (-23.1555, -47.0178) -> (-24.3801, -49.9742)
  line L379 (-24.0794, -46.6351) -> (-25.304, -49.5915)
  line L380 (-26.7822, -48.9792) -> (-25.5576, -46.0228)
  line L381 (-25.5576, -46.0228) -> (-24.0794, -46.6351)
  line L382 (-25.304, -49.5915) -> (-26.7822, -48.9792)
  line L383 (-26.4138, -52.2708) -> (-27.892, -51.6585)
  line L384 (-27.892, -51.6585) -> (-29.1166, -54.6149)
  line L385 (-29.1166, -54.6149) -> (-27.6384, -55.2272)
  line L386 (-27.6384, -55.2272) -> (-26.4138, -52.2708)
  line L387 (-24.5846, -51.5131) -> (-26.8807, -57.0564)
  line L388 (-26.8807, -57.0564) -> (-21.3374, -59.3525)
  line L389 (-24.8744, -60.0522) -> (-24.1091, -58.2044) construction
  line L390 (-21.3374, -59.3525) -> (-19.0413, -53.8092)
  line L391 (-19.0413, -53.8092) -> (-24.5846, -51.5131)
  line L392 (-19.2752, -48.625) -> (-20.4998, -51.5815)
  line L393 (-20.4998, -51.5815) -> (-21.978, -50.9692)
  line L394 (-21.978, -50.9692) -> (-20.7534, -48.0128)
  line L395 (-20.7534, -48.0128) -> (-19.2752, -48.625)
  line L396 (-18.3514, -49.0077) -> (-19.5759, -51.9641)
  line L397 (-19.5759, -51.9641) -> (-18.0977, -52.5764)
  line L398 (-18.0977, -52.5764) -> (-16.8732, -49.62)
  line L399 (-16.8732, -49.62) -> (-18.3514, -49.0077)
  point P0 (0, -53.9)
  point P1 (0, -60)
  point P2 (2.6, -53.9)
  point P3 (-2.6, -53.9)
  point P4 (-5.2, -53.9)
  point P5 (-5.2, -60)
  point P6 (18.1568, -57.4227)
  point P7 (15.8225, -51.7871)
  point P8 (18.2246, -50.7921)
  point P9 (23.0287, -48.8021)
  point P10 (22.961, -55.4328)
  point P11 (20.6266, -49.7971)
  point P12 (38.7495, -46.1034)
  point P13 (34.4361, -41.79)
  point P14 (36.2746, -39.9515)
  point P15 (39.9515, -36.2746)
  point P16 (42.4264, -42.4264)
  point P17 (38.1131, -38.1131)
  point P18 (53.4428, -27.7652)
  point P19 (47.8072, -25.4308)
  point P20 (48.8021, -23.0287)
  point P21 (50.7921, -18.2246)
  point P22 (55.4328, -22.961)
  point P23 (49.7971, -20.6266)
  point P24 (60, -5.2)
  point P25 (53.9, -5.2)
  point P26 (53.9, -2.6)
  point P27 (53.9, 2.6)
  point P28 (60, 0)
  point P29 (53.9, 0)
  point P30 (57.4227, 18.1568)
  point P31 (51.7871, 15.8225)
  point P32 (50.7921, 18.2246)
  point P33 (48.8021, 23.0287)
  point P34 (55.4328, 22.961)
  point P35 (49.7971, 20.6266)
  point P36 (46.1034, 38.7495)
  point P37 (41.79, 34.4361)
  point P38 (39.9515, 36.2746)
  point P39 (36.2746, 39.9515)
  point P40 (42.4264, 42.4264)
  point P41 (38.1131, 38.1131)
  point P42 (27.7652, 53.4428)
  point P43 (25.4308, 47.8072)
  point P44 (23.0287, 48.8021)
  point P45 (18.2246, 50.7921)
  point P46 (22.961, 55.4328)
  point P47 (20.6266, 49.7971)
  point P48 (5.2, 60)
  point P49 (5.2, 53.9)
  point P50 (2.6, 53.9)
  point P51 (-2.6, 53.9)
  point P52 (0, 60)
  point P53 (0, 53.9)
  point P54 (-18.1568, 57.4227)
  point P55 (-15.8225, 51.7871)
  point P56 (-18.2246, 50.7921)
  point P57 (-23.0287, 48.8021)
  point P58 (-22.961, 55.4328)
  point P59 (-20.6266, 49.7971)
  point P60 (-38.7495, 46.1034)
  point P61 (-34.4361, 41.79)
  point P62 (-36.2746, 39.9515)
  point P63 (-39.9515, 36.2746)
  point P64 (-42.4264, 42.4264)
  point P65 (-38.1131, 38.1131)
  point P66 (-53.4428, 27.7652)
  point P67 (-47.8072, 25.4308)
  point P68 (-48.8021, 23.0287)
  point P69 (-50.7921, 18.2246)
  point P70 (-55.4328, 22.961)
  point P71 (-49.7971, 20.6266)
  point P72 (-60, 5.2)
  point P73 (-53.9, 5.2)
  point P74 (-53.9, 2.6)
  point P75 (-53.9, -2.6)
  point P76 (-60, 0)
  point P77 (-53.9, 0)
  point P78 (-57.4227, -18.1568)
  point P79 (-51.7871, -15.8225)
  point P80 (-50.7921, -18.2246)
  point P81 (-48.8021, -23.0287)
  point P82 (-55.4328, -22.961)
  point P83 (-49.7971, -20.6266)
  point P84 (-46.1034, -38.7495)
  point P85 (-41.79, -34.4361)
  point P86 (-39.9515, -36.2746)
  point P87 (-36.2746, -39.9515)
  point P88 (-42.4264, -42.4264)
  point P89 (-38.1131, -38.1131)
  point P90 (-27.7652, -53.4428)
  point P91 (-25.4308, -47.8072)
  point P92 (-23.0287, -48.8021)
  point P93 (-18.2246, -50.7921)
  point P94 (-22.961, -55.4328)
  point P95 (-20.6266, -49.7971)
  dimension "d89" = 360
sketch "Sketch5" plane through (0, 1, 0) normal (0, 1, 0) x (1, 0, 0)
  circle A0 centre (0, 0) radius 65
  line L0 (0, -65) -> (0, -63) construction
  line L1 (-3, -57) -> (-3, -63)
  line L2 (-3, -63) -> (3, -63)
  line L3 (3, -63) -> (3, -57)
  line L4 (3, -57) -> (-3, -57)
  line L5 (0.8, -52.3) -> (0.8, -55.5)
  line L6 (0.8, -55.5) -> (-0.8, -55.5)
  line L7 (-0.8, -55.5) -> (-0.8, -52.3)
  line L8 (-0.8, -52.3) -> (0.8, -52.3)
  line L9 (1.8, -52.3) -> (1.8, -55.5)
  line L10 (1.8, -55.5) -> (3.4, -55.5)
  line L11 (3.4, -55.5) -> (3.4, -52.3)
  line L12 (3.4, -52.3) -> (1.8, -52.3)
  line L13 (-1.8, -52.3) -> (-3.4, -52.3)
  line L14 (-3.4, -52.3) -> (-3.4, -55.5)
  line L15 (-3.4, -55.5) -> (-1.8, -55.5)
  line L16 (-1.8, -55.5) -> (-1.8, -52.3)
  line L17 (-4.4, -52.3) -> (-4.4, -55.5)
  line L18 (-6, -55.5) -> (-6, -52.3)
  line L19 (-6, -52.3) -> (-4.4, -52.3)
  line L20 (-4.4, -55.5) -> (-6, -55.5)
  line L21 (-4.4, -61.6) -> (-4.4, -58.4)
  line L22 (-4.4, -58.4) -> (-6, -58.4)
  line L23 (-6, -58.4) -> (-6, -61.6)
  line L24 (-6, -61.6) -> (-4.4, -61.6)
  line L25 (18.0977, -52.5764) -> (19.5759, -51.9641)
  line L26 (19.5759, -51.9641) -> (18.3514, -49.0077)
  line L27 (18.3514, -49.0077) -> (16.8732, -49.62)
  line L28 (16.8732, -49.62) -> (18.0977, -52.5764)
  line L29 (15.9493, -50.0027) -> (17.1739, -52.9591)
  line L30 (15.6957, -53.5714) -> (14.4711, -50.615)
  line L31 (14.4711, -50.615) -> (15.9493, -50.0027)
  line L32 (17.1739, -52.9591) -> (15.6957, -53.5714)
  line L33 (18.2836, -55.6384) -> (16.8054, -56.2507)
  line L34 (16.8054, -56.2507) -> (18.03, -59.2071)
  line L35 (18.03, -59.2071) -> (19.5082, -58.5948)
  line L36 (19.5082, -58.5948) -> (18.2836, -55.6384)
  line L37 (19.0413, -53.8092) -> (21.3374, -59.3525)
  line L38 (21.3374, -59.3525) -> (26.8807, -57.0564)
  line L39 (24.8744, -60.0522) -> (24.1091, -58.2044) construction
  line L40 (26.8807, -57.0564) -> (24.5846, -51.5131)
  line L41 (24.5846, -51.5131) -> (19.0413, -53.8092)
  line L42 (20.7534, -48.0128) -> (21.978, -50.9692)
  line L43 (21.978, -50.9692) -> (20.4998, -51.5815)
  line L44 (20.4998, -51.5815) -> (19.2752, -48.625)
  line L45 (19.2752, -48.625) -> (20.7534, -48.0128)
  line L46 (21.6773, -47.6301) -> (22.9019, -50.5865)
  line L47 (22.9019, -50.5865) -> (24.3801, -49.9742)
  line L48 (24.3801, -49.9742) -> (23.1555, -47.0178)
  line L49 (23.1555, -47.0178) -> (21.6773, -47.6301)
  line L50 (36.8403, -41.6486) -> (37.9716, -40.5172)
  line L51 (37.9716, -40.5172) -> (35.7089, -38.2545)
  line L52 (35.7089, -38.2545) -> (34.5775, -39.3858)
  line L53 (34.5775, -39.3858) -> (36.8403, -41.6486)
  line L54 (33.8704, -40.093) -> (36.1332, -42.3557)
  line L55 (35.0018, -43.4871) -> (32.739, -41.2243)
  line L56 (32.739, -41.2243) -> (33.8704, -40.093)
  line L57 (36.1332, -42.3557) -> (35.0018, -43.4871)
  line L58 (38.1838, -44.4063) -> (37.0524, -45.5377)
  line L59 (37.0524, -45.5377) -> (39.3151, -47.8004)
  line L60 (39.3151, -47.8004) -> (40.4465, -46.669)
  line L61 (40.4465, -46.669) -> (38.1838, -44.4063)
  line L62 (38.1838, -42.4264) -> (42.4264, -46.669)
  line L63 (42.4264, -46.669) -> (46.669, -42.4264)
  line L64 (45.9619, -45.9619) -> (44.5477, -44.5477) construction
  line L65 (46.669, -42.4264) -> (42.4264, -38.1838)
  line L66 (42.4264, -38.1838) -> (38.1838, -42.4264)
  line L67 (37.5474, -36.416) -> (39.8101, -38.6787)
  line L68 (39.8101, -38.6787) -> (38.6787, -39.8101)
  line L69 (38.6787, -39.8101) -> (36.416, -37.5474)
  line L70 (36.416, -37.5474) -> (37.5474, -36.416)
  line L71 (38.2545, -35.7089) -> (40.5172, -37.9716)
  line L72 (40.5172, -37.9716) -> (41.6486, -36.8403)
  line L73 (41.6486, -36.8403) -> (39.3858, -34.5775)
  line L74 (39.3858, -34.5775) -> (38.2545, -35.7089)
  line L75 (49.9742, -24.3801) -> (50.5865, -22.9019)
  line L76 (50.5865, -22.9019) -> (47.6301, -21.6773)
  line L77 (47.6301, -21.6773) -> (47.0178, -23.1555)
  line L78 (47.0178, -23.1555) -> (49.9742, -24.3801)
  line L79 (46.6351, -24.0794) -> (49.5915, -25.304)
  line L80 (48.9792, -26.7822) -> (46.0228, -25.5576)
  line L81 (46.0228, -25.5576) -> (46.6351, -24.0794)
  line L82 (49.5915, -25.304) -> (48.9792, -26.7822)
  line L83 (52.2708, -26.4138) -> (51.6585, -27.892)
  line L84 (51.6585, -27.892) -> (54.6149, -29.1166)
  line L85 (54.6149, -29.1166) -> (55.2272, -27.6384)
  line L86 (55.2272, -27.6384) -> (52.2708, -26.4138)
  line L87 (51.5131, -24.5846) -> (57.0564, -26.8807)
  line L88 (57.0564, -26.8807) -> (59.3525, -21.3374)
  line L89 (60.0522, -24.8744) -> (58.2044, -24.1091) construction
  line L90 (59.3525, -21.3374) -> (53.8092, -19.0413)
  line L91 (53.8092, -19.0413) -> (51.5131, -24.5846)
  line L92 (48.625, -19.2752) -> (51.5815, -20.4998)
  line L93 (51.5815, -20.4998) -> (50.9692, -21.978)
  line L94 (50.9692, -21.978) -> (48.0128, -20.7534)
  line L95 (48.0128, -20.7534) -> (48.625, -19.2752)
  line L96 (49.0077, -18.3514) -> (51.9641, -19.5759)
  line L97 (51.9641, -19.5759) -> (52.5764, -18.0977)
  line L98 (52.5764, -18.0977) -> (49.62, -16.8732)
  line L99 (49.62, -16.8732) -> (49.0077, -18.3514)
  line L100 (55.5, -3.4) -> (55.5, -1.8)
  line L101 (55.5, -1.8) -> (52.3, -1.8)
  line L102 (52.3, -1.8) -> (52.3, -3.4)
  line L103 (52.3, -3.4) -> (55.5, -3.4)
  line L104 (52.3, -4.4) -> (55.5, -4.4)
  line L105 (55.5, -6) -> (52.3, -6)
  line L106 (52.3, -6) -> (52.3, -4.4)
  line L107 (55.5, -4.4) -> (55.5, -6)
  line L108 (58.4, -4.4) -> (58.4, -6)
  line L109 (58.4, -6) -> (61.6, -6)
  line L110 (61.6, -6) -> (61.6, -4.4)
  line L111 (61.6, -4.4) -> (58.4, -4.4)
  line L112 (57, -3) -> (63, -3)
  line L113 (63, -3) -> (63, 3)
  line L114 (65, 0) -> (63, 0) construction
  line L115 (63, 3) -> (57, 3)
  line L116 (57, 3) -> (57, -3)
  line L117 (52.3, 0.8) -> (55.5, 0.8)
  line L118 (55.5, 0.8) -> (55.5, -0.8)
  line L119 (55.5, -0.8) -> (52.3, -0.8)
  line L120 (52.3, -0.8) -> (52.3, 0.8)
  line L121 (52.3, 1.8) -> (55.5, 1.8)
  line L122 (55.5, 1.8) -> (55.5, 3.4)
  line L123 (55.5, 3.4) -> (52.3, 3.4)
  line L124 (52.3, 3.4) -> (52.3, 1.8)
  point P0 (0, -53.9)
  point P1 (0, -60)
  point P2 (2.6, -53.9)
  point P3 (-2.6, -53.9)
  point P4 (-5.2, -53.9)
  point P5 (-5.2, -60)
  point P6 (18.1568, -57.4227)
  point P7 (15.8225, -51.7871)
  point P8 (18.2246, -50.7921)
  point P9 (23.0287, -48.8021)
  point P10 (22.961, -55.4328)
  point P11 (20.6266, -49.7971)
  point P12 (38.7495, -46.1034)
  point P13 (34.4361, -41.79)
  point P14 (36.2746, -39.9515)
  point P15 (39.9515, -36.2746)
  point P16 (42.4264, -42.4264)
  point P17 (38.1131, -38.1131)
  point P18 (53.4428, -27.7652)
  point P19 (47.8072, -25.4308)
  point P20 (48.8021, -23.0287)
  point P21 (50.7921, -18.2246)
  point P22 (55.4328, -22.961)
  point P23 (49.7971, -20.6266)
  point P24 (60, -5.2)
  point P25 (53.9, -5.2)
  point P26 (53.9, -2.6)
  point P27 (53.9, 2.6)
  point P28 (60, 0)
  point P29 (53.9, 0)
  point P30 (22.961, 0)
  point P31 (42.4264, 0)
  point P32 (55.5, 0)
  dimension "d94" = 90
  dimension "d95" = 60
  dimension "d96" = 53.9
  dimension "d97" = 2.6
  dimension "d98" = 5.2
  dimension "d99" = 2.6
  dimension "d100" = 5.2
  dimension "d111" = 22.961
  dimension "d112" = 42.4264
  dimension "d113" = 55.4328
  dimension "d114" = 22.961
  dimension "d115" = 42.4264
  dimension "d116" = 60
  dimension "d117" = 55.5
properties part number "InfraredPCB"
